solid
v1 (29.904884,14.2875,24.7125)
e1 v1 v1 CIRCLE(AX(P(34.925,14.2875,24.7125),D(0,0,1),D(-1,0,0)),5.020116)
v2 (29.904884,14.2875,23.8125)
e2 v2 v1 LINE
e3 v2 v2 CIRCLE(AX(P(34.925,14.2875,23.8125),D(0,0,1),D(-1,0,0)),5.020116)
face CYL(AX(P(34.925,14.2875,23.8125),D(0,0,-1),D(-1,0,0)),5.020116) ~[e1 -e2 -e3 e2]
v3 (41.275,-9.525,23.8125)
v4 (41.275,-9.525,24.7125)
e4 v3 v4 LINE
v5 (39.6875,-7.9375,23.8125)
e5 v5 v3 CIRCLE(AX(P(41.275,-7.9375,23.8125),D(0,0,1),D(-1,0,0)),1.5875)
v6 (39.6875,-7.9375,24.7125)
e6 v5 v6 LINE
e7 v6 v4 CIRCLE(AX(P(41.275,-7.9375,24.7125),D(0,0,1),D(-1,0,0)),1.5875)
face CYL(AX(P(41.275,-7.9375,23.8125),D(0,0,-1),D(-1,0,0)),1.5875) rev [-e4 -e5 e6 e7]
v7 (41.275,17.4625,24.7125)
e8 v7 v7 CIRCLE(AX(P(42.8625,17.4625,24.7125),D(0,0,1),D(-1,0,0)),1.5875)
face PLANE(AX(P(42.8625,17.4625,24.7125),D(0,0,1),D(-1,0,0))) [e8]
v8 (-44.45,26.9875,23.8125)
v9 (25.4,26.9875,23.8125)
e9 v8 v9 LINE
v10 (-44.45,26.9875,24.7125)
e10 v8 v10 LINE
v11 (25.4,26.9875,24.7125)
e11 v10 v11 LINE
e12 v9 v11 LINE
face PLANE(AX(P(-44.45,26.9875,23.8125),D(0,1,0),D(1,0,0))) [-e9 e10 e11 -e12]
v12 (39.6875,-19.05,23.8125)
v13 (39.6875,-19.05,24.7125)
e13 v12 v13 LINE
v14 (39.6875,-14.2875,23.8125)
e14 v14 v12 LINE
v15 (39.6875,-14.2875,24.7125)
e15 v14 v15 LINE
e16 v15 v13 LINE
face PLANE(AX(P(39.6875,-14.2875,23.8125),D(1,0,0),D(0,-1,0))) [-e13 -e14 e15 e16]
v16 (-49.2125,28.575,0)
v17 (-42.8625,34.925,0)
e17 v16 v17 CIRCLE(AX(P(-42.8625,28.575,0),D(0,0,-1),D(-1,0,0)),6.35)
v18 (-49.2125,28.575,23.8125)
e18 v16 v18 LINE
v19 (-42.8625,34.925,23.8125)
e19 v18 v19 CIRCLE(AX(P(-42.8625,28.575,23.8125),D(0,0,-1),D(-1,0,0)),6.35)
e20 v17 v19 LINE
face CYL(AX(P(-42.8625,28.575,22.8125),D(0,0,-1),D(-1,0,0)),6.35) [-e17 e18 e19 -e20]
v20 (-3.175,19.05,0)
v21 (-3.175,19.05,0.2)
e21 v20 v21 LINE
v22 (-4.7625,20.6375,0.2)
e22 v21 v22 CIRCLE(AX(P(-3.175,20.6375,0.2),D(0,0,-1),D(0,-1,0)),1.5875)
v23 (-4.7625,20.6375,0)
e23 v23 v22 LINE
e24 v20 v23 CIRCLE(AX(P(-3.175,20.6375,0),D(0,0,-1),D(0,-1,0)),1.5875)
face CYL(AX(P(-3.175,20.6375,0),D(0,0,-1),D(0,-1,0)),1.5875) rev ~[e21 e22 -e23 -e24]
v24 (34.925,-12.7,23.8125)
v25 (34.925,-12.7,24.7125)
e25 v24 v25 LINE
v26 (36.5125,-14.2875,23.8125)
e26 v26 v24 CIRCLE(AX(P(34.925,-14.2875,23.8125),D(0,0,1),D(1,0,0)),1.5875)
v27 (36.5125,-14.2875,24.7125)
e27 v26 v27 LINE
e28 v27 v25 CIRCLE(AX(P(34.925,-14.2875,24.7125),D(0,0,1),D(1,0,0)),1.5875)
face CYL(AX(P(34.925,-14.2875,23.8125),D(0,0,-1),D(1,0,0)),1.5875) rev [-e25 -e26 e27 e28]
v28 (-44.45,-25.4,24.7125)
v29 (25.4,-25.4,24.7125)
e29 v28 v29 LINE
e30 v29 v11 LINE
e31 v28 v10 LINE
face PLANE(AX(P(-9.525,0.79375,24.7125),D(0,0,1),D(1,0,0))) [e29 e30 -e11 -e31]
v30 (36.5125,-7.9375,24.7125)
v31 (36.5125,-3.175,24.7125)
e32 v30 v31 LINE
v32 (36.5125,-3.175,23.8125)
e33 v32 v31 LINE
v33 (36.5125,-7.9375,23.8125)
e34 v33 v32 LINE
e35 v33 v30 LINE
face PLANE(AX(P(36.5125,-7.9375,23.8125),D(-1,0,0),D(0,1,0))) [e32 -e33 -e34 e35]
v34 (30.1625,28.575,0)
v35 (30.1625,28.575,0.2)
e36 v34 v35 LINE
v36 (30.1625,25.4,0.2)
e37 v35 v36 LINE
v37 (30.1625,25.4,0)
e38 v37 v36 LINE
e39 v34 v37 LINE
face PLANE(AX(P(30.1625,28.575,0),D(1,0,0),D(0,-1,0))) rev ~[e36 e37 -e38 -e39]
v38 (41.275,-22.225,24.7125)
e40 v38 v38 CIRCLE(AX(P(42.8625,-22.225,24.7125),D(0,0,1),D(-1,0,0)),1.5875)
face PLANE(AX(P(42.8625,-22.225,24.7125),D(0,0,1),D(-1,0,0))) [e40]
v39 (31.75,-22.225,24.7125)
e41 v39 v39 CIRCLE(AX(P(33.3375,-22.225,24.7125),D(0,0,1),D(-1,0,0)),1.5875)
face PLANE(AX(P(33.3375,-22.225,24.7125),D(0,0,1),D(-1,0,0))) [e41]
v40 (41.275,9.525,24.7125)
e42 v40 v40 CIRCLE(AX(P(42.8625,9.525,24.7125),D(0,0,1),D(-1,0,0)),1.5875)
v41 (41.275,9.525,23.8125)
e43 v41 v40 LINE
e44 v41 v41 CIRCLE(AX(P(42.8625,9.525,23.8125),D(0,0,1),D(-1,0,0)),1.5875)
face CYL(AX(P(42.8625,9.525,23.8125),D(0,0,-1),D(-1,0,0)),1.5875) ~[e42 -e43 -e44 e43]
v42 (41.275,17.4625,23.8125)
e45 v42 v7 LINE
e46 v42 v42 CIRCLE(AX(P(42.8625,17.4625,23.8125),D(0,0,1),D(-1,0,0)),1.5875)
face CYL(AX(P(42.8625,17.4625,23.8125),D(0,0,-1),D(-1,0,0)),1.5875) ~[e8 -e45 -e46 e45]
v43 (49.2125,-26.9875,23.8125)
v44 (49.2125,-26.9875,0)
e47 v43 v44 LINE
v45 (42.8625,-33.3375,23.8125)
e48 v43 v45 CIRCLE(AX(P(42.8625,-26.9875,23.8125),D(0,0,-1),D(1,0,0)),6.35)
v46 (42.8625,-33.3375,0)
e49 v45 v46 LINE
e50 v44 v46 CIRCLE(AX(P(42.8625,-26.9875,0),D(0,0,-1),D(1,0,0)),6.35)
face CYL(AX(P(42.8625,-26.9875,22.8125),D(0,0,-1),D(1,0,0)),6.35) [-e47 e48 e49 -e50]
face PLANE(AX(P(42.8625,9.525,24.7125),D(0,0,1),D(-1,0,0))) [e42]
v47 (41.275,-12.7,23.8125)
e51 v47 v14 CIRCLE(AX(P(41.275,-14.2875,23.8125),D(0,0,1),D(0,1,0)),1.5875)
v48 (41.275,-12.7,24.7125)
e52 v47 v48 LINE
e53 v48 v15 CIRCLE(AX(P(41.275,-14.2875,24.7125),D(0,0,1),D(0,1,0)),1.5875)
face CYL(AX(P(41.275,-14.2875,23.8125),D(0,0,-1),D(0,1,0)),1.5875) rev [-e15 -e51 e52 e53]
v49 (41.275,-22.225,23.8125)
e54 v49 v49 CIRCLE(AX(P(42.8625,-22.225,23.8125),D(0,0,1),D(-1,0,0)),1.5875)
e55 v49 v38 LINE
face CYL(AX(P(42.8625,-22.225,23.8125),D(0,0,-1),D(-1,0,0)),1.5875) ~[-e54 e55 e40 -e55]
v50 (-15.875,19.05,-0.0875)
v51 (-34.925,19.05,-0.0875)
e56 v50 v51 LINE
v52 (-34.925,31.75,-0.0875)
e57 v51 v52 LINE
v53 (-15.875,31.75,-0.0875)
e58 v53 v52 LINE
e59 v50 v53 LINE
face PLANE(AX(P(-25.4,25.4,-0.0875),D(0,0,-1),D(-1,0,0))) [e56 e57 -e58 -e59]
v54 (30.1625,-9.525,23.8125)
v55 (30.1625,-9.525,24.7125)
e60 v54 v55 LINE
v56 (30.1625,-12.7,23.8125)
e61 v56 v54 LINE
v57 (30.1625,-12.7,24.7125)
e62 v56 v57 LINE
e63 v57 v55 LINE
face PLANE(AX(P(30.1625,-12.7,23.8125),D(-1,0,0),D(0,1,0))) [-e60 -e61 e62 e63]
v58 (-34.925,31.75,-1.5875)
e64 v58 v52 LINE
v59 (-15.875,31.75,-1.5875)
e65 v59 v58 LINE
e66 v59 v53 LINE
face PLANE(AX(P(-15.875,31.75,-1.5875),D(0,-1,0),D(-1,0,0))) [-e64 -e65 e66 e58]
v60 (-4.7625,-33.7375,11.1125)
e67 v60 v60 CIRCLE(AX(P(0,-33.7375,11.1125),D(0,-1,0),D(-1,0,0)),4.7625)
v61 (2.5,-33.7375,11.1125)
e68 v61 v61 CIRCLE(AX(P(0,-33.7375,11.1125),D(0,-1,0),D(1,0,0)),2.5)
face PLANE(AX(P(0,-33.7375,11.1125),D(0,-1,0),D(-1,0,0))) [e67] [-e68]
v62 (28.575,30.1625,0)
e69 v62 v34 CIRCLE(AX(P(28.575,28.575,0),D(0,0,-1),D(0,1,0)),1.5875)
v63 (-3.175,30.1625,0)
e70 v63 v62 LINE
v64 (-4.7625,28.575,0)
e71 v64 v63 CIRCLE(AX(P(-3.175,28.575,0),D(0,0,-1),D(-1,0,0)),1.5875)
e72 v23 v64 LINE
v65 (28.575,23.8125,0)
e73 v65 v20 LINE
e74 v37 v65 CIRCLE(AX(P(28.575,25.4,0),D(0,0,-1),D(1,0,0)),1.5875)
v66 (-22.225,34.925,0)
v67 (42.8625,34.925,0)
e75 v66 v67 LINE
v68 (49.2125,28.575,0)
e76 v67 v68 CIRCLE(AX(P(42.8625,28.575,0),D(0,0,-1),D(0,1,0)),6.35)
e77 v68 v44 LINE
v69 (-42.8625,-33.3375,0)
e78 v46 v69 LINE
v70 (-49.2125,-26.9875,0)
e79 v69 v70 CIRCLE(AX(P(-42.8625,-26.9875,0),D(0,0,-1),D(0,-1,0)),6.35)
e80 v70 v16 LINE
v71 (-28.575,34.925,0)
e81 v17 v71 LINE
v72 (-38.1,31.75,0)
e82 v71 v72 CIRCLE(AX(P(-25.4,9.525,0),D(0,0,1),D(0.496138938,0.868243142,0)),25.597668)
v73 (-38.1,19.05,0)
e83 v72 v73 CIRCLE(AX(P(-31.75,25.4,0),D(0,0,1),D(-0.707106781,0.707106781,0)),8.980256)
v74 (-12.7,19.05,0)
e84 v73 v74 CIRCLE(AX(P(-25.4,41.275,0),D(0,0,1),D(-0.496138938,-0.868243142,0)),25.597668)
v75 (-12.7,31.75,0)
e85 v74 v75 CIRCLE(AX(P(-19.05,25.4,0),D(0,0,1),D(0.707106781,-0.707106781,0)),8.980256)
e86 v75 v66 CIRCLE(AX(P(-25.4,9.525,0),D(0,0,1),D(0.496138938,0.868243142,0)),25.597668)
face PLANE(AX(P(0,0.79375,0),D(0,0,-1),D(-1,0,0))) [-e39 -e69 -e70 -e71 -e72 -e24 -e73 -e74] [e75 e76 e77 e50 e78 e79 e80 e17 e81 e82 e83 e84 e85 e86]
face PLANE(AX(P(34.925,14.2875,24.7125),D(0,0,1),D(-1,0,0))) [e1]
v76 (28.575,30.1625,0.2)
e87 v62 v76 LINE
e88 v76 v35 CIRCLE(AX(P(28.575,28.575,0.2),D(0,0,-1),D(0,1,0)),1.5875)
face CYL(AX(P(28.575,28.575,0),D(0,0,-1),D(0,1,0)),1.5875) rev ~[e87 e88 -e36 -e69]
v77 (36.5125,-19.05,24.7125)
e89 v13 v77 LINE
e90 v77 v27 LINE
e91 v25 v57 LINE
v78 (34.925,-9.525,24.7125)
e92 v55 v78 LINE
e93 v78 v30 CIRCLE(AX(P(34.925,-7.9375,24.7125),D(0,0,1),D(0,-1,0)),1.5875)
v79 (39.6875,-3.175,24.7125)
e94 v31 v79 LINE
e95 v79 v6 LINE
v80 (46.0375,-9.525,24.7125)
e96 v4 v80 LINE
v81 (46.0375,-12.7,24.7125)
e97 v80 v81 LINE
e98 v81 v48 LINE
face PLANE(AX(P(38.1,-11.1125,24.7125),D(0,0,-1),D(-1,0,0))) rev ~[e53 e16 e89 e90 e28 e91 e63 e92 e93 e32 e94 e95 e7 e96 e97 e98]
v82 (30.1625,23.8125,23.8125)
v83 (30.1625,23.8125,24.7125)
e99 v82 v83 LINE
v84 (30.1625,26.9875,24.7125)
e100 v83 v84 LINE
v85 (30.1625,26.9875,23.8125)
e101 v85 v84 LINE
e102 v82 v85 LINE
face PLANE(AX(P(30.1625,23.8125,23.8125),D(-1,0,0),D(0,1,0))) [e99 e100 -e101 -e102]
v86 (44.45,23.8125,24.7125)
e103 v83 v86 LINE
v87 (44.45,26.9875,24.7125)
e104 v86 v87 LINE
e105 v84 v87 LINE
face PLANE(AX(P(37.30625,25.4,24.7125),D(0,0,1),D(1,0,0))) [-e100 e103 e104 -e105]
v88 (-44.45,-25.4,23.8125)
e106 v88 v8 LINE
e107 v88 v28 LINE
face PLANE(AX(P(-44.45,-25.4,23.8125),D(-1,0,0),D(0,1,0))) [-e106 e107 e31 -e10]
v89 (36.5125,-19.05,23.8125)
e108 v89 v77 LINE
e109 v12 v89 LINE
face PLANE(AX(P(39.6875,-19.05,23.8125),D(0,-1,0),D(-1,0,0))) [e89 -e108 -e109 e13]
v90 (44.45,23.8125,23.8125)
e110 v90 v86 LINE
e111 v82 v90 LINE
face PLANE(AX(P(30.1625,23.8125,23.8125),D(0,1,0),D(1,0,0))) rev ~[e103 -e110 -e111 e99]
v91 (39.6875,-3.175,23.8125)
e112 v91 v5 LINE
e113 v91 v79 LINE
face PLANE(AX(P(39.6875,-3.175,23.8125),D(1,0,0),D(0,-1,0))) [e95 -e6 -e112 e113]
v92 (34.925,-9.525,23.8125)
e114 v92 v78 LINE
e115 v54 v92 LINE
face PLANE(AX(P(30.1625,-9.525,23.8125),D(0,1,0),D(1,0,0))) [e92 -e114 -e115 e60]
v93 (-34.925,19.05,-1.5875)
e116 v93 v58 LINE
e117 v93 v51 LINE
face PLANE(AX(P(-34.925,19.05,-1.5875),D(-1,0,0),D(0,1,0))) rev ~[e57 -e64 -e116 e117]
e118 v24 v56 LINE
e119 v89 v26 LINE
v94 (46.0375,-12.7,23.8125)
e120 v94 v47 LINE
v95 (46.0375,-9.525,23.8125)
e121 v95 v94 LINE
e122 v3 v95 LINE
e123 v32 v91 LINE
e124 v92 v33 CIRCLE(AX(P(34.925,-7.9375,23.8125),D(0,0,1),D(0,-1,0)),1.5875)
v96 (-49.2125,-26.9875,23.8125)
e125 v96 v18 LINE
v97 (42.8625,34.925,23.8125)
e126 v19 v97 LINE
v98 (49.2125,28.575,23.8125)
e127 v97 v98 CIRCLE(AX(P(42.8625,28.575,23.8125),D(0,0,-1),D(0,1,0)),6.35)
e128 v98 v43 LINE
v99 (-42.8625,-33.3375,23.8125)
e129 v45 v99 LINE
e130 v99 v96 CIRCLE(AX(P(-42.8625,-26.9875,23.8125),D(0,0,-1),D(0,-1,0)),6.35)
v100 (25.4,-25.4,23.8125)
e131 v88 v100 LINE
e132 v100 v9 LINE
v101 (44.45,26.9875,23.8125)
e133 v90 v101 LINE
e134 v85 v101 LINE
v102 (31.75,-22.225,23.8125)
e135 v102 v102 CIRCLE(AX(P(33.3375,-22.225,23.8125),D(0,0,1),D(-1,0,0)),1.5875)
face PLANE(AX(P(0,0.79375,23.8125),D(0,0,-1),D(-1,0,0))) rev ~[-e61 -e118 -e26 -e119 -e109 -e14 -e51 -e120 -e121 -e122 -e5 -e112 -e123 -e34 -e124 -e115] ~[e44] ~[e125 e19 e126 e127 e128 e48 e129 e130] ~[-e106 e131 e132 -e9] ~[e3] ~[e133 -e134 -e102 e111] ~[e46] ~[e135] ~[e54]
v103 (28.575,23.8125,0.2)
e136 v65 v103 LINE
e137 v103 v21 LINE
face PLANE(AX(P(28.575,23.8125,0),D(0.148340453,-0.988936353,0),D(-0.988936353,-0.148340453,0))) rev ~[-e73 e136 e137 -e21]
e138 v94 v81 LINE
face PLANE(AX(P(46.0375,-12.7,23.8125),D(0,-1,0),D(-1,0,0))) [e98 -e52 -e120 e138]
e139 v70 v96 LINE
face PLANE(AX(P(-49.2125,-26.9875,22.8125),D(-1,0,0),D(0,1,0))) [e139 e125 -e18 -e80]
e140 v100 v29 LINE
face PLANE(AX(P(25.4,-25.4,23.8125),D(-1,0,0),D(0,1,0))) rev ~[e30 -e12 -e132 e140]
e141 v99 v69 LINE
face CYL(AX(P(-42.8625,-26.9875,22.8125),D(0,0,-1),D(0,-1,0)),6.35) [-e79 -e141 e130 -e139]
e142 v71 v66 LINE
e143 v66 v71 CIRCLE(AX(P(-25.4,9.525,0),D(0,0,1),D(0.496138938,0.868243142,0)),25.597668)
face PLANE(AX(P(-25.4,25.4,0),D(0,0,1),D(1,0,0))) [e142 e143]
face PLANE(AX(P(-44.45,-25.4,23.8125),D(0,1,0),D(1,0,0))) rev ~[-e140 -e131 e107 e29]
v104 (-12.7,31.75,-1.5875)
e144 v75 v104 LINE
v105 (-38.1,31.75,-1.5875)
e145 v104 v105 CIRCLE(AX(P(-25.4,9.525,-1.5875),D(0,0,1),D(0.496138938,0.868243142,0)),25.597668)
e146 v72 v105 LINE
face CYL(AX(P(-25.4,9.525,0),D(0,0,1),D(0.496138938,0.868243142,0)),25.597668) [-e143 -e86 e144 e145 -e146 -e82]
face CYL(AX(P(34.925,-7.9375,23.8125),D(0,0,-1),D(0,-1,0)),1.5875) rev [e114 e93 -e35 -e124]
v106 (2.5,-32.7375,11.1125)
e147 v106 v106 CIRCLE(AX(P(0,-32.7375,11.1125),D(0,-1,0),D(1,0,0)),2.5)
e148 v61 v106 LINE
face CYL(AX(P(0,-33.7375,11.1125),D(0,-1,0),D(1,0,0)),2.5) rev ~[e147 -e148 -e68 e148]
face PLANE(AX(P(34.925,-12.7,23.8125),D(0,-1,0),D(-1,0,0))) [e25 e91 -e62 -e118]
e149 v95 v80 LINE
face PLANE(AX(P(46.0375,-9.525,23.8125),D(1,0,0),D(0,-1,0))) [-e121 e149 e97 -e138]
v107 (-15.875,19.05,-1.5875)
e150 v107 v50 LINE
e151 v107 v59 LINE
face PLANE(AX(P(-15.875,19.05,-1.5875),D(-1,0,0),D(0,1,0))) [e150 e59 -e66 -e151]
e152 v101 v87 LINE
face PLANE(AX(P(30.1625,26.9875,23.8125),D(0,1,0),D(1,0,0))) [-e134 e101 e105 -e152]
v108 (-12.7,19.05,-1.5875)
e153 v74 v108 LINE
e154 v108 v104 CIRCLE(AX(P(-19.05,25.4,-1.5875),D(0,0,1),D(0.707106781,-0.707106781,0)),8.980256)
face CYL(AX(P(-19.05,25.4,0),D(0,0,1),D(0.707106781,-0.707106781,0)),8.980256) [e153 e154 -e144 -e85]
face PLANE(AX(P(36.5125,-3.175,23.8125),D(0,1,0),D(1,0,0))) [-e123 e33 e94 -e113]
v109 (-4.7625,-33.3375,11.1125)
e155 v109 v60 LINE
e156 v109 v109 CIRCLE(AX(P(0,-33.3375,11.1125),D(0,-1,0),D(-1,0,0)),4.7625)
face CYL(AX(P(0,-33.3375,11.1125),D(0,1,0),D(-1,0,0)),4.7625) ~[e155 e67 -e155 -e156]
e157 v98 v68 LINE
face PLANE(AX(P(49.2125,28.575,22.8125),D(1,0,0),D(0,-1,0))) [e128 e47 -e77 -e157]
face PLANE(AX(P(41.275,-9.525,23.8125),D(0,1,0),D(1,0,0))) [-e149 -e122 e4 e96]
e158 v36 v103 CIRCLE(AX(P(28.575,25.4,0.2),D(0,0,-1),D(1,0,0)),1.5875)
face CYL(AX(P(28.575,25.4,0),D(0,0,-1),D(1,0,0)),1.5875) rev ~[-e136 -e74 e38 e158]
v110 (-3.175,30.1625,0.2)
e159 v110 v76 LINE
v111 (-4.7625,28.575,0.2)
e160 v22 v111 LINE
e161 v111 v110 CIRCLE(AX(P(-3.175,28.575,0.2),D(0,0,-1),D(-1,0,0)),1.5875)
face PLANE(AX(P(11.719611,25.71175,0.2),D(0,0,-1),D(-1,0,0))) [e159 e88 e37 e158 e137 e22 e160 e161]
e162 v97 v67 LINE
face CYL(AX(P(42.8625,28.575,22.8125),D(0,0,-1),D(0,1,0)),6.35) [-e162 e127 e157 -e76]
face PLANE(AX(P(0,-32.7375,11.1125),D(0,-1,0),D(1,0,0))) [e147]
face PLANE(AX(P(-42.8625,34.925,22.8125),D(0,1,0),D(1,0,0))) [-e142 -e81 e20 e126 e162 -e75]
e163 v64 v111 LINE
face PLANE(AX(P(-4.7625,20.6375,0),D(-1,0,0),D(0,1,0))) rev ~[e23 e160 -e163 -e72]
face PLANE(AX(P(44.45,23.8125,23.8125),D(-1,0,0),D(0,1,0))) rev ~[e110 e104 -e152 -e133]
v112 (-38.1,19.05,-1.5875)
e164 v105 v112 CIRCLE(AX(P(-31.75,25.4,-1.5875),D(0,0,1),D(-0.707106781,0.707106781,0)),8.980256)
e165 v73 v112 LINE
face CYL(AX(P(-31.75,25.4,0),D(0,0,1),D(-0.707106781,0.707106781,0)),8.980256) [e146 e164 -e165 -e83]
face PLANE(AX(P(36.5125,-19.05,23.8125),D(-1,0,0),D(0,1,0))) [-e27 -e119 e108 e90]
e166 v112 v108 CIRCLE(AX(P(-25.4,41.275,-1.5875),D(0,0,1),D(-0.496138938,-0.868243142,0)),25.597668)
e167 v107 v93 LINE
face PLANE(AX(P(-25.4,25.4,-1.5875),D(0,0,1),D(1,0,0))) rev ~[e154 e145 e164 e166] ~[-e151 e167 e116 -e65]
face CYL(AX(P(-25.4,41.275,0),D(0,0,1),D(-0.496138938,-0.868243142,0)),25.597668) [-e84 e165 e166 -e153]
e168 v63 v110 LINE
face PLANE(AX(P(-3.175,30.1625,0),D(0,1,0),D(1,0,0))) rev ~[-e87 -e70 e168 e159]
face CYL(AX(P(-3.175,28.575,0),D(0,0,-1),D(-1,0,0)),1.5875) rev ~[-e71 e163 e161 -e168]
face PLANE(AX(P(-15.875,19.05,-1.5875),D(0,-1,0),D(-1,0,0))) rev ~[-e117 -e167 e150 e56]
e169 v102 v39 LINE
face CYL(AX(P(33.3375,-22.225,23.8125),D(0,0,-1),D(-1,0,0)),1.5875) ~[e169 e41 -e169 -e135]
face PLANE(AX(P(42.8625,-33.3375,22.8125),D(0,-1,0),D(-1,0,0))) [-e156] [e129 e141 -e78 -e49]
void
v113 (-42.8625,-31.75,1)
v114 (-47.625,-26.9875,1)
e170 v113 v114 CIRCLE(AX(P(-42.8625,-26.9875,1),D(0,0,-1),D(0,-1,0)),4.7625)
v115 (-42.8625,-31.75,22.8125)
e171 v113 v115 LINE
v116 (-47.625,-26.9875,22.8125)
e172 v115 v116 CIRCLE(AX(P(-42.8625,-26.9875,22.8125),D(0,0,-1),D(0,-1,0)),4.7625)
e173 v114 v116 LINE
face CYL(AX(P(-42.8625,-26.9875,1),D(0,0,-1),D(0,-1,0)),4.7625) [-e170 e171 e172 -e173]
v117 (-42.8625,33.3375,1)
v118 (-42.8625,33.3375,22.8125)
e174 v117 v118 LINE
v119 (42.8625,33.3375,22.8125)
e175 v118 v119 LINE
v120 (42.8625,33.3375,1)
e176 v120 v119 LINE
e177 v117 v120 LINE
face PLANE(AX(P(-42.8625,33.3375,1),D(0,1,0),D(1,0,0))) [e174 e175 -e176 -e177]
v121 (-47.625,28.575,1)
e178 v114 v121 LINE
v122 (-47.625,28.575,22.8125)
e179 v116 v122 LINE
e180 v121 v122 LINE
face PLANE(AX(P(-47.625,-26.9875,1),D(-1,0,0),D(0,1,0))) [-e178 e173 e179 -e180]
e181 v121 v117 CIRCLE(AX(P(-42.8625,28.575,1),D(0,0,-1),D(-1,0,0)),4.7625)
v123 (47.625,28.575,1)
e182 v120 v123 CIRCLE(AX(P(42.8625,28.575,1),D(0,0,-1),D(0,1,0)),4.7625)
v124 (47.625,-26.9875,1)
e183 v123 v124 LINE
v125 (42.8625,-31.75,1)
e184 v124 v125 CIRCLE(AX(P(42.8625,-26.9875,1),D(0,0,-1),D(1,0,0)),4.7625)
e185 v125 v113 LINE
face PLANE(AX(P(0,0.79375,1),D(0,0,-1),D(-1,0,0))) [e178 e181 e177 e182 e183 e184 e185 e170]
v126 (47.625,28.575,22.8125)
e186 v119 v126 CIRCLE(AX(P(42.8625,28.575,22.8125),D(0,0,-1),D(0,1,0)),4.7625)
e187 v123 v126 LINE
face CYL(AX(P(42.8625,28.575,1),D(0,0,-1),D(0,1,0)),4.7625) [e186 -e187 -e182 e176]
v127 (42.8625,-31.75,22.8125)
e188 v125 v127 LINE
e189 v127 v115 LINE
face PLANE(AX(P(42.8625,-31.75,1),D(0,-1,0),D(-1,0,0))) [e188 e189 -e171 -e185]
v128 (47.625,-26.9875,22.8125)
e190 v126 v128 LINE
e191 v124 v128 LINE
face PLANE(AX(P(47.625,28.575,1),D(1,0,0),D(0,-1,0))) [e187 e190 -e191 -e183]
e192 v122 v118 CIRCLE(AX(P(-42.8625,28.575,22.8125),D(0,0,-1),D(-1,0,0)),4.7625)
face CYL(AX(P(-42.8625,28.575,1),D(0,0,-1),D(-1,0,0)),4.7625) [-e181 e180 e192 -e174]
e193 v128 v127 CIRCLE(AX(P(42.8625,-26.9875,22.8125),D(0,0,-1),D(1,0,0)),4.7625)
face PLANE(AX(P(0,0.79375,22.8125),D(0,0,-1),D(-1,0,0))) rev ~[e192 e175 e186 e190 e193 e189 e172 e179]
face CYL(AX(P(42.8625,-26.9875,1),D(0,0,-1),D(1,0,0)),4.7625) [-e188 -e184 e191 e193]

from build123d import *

# Parameters (mm, degrees)
EXTRUDE1_DEPTH     = 1
EXTRUDE9_DEPTH     = 21.8125
EXTRUDE10_DEPTH    = 1
SKETCH14_R         = 1.5875
SKETCH14_R_2       = 5.020115786
SKETCH14_W         = 69.85
SKETCH14_H         = 52.3875
SKETCH14_W_2       = 14.2875
SKETCH14_H_2       = 3.175
EXTRUDE12_DEPTH    = 0.9
CUT_EXTRUDE5_DEPTH = 0.2
EXTRUDE13_DEPTH    = 1.5875
SKETCH17_W         = 19.05
SKETCH17_H         = 12.7
CUT_EXTRUDE6_DEPTH = 1.5
SKETCH18_R         = 4.7625
EXTRUDE14_DEPTH    = 0.4
SKETCH19_R         = 2.5
CUT_EXTRUDE7_DEPTH = 1


with BuildPart() as part:
    # Sketch1 → Extrude1 (new body)
    with BuildSketch(Plane.XY):
        with BuildLine():
            Line((-42.8625, 34.925), (42.8625, 34.925))
            ThreePointArc((42.8625, 34.925), (47.352628061, 33.065128061), (49.2125, 28.575))
            Line((49.2125, 28.575), (49.2125, -26.9875))
            ThreePointArc((49.2125, -26.9875), (47.352628061, -31.477628061), (42.8625, -33.3375))
            Line((42.8625, -33.3375), (-42.8625, -33.3375))
            ThreePointArc((-42.8625, -33.3375), (-47.352628061, -31.477628061), (-49.2125, -26.9875))
            Line((-49.2125, -26.9875), (-49.2125, 28.575))
            ThreePointArc((-49.2125, 28.575), (-47.352628061, 33.065128061), (-42.8625, 34.925))
        make_face()
    extrude(amount=EXTRUDE1_DEPTH)

    # Sketch11 → Extrude9 (add)
    with BuildSketch(Plane.XY.offset(1)):
        with BuildLine():
            Line((-42.8625, 34.925), (42.8625, 34.925))
            ThreePointArc((42.8625, 34.925), (47.352628061, 33.065128061), (49.2125, 28.575))
            Line((49.2125, 28.575), (49.2125, -26.9875))
            ThreePointArc((49.2125, -26.9875), (47.352628061, -31.477628061), (42.8625, -33.3375))
            Line((42.8625, -33.3375), (-42.8625, -33.3375))
            ThreePointArc((-42.8625, -33.3375), (-47.352628061, -31.477628061), (-49.2125, -26.9875))
            Line((-49.2125, -26.9875), (-49.2125, 28.575))
            ThreePointArc((-49.2125, 28.575), (-47.352628061, 33.065128061), (-42.8625, 34.925))
        make_face()
        with BuildLine():
            Line((-42.8625, 33.3375), (42.8625, 33.3375))
            ThreePointArc((42.8625, 33.3375), (46.230096045, 31.942596045), (47.625, 28.575))
            Line((47.625, 28.575), (47.625, -26.9875))
            ThreePointArc((47.625, -26.9875), (46.230096045, -30.355096045), (42.8625, -31.75))
            Line((42.8625, -31.75), (-42.8625, -31.75))
            ThreePointArc((-42.8625, -31.75), (-46.230096045, -30.355096045), (-47.625, -26.9875))
            Line((-47.625, -26.9875), (-47.625, 28.575))
            ThreePointArc((-47.625, 28.575), (-46.230096045, 31.942596045), (-42.8625, 33.3375))
        make_face(mode=Mode.SUBTRACT)
    extrude(amount=EXTRUDE9_DEPTH)

    # Sketch13 → Extrude10 (add)
    with BuildSketch(Plane.XY.offset(22.8125)):
        with BuildLine():
            Line((-42.8625, 34.925), (42.8625, 34.925))
            ThreePointArc((42.8625, 34.925), (47.352628061, 33.065128061), (49.2125, 28.575))
            Line((49.2125, 28.575), (49.2125, -26.9875))
            ThreePointArc((49.2125, -26.9875), (47.352628061, -31.477628061), (42.8625, -33.3375))
            Line((42.8625, -33.3375), (-42.8625, -33.3375))
            ThreePointArc((-42.8625, -33.3375), (-47.352628061, -31.477628061), (-49.2125, -26.9875))
            Line((-49.2125, -26.9875), (-49.2125, 28.575))
            ThreePointArc((-49.2125, 28.575), (-47.352628061, 33.065128061), (-42.8625, 34.925))
        make_face()
    extrude(amount=EXTRUDE10_DEPTH)

    # Sketch14 → Extrude12 (add)
    with BuildSketch(Plane.XY.offset(23.8125)):
        with Locations(Location((42.8625, 17.4625, 0), (0, 0, 180))):
            Circle(SKETCH14_R)
        with Locations(Location((42.8625, 9.525, 0), (0, 0, 180))):
            Circle(SKETCH14_R)
        with Locations(Location((34.925, 14.2875, 0), (0, 0, 180))):
            Circle(SKETCH14_R_2)
        with Locations(Location((33.3375, -22.225, 0), (0, 0, 180))):
            Circle(SKETCH14_R)
        with Locations(Location((42.8625, -22.225, 0), (0, 0, 180))):
            Circle(SKETCH14_R)
        with BuildLine():
            Line((36.5125, -7.9375), (36.5125, -3.175))
            Line((36.5125, -3.175), (39.6875, -3.175))
            Line((39.6875, -3.175), (39.6875, -7.9375))
            ThreePointArc((39.6875, -7.9375), (40.152467985, -9.060032015), (41.275, -9.525))
            Line((41.275, -9.525), (46.0375, -9.525))
            Line((46.0375, -9.525), (46.0375, -12.7))
            Line((46.0375, -12.7), (41.275, -12.7))
            ThreePointArc((41.275, -12.7), (40.152467985, -13.164967985), (39.6875, -14.2875))
            Line((39.6875, -14.2875), (39.6875, -19.05))
            Line((39.6875, -19.05), (36.5125, -19.05))
            Line((36.5125, -19.05), (36.5125, -14.2875))
            ThreePointArc((36.5125, -14.2875), (36.047532015, -13.164967985), (34.925, -12.7))
            Line((34.925, -12.7), (30.1625, -12.7))
            Line((30.1625, -12.7), (30.1625, -9.525))
            Line((30.1625, -9.525), (34.925, -9.525))
            ThreePointArc((34.925, -9.525), (36.047532015, -9.060032015), (36.5125, -7.9375))
        make_face()
        with Locations((-9.525, 0.79375)):
            Rectangle(SKETCH14_W, SKETCH14_H)
        with Locations((37.30625, 25.4)):
            Rectangle(SKETCH14_W_2, SKETCH14_H_2)
    extrude(amount=EXTRUDE12_DEPTH)

    # Sketch15 → Cut-Extrude5 (cut)
    with BuildSketch(Plane(origin=(0, 0, 0), x_dir=(-1, 0, 0), z_dir=(0, 0, -1))):
        with BuildLine():
            Line((3.175, 30.1625), (-28.575, 30.1625))
            ThreePointArc((-28.575, 30.1625), (-29.697532015, 29.697532015), (-30.1625, 28.575))
            Line((-30.1625, 28.575), (-30.1625, 25.4))
            ThreePointArc((-30.1625, 25.4), (-29.697532015, 24.277467985), (-28.575, 23.8125))
            Line((-28.575, 23.8125), (3.175, 19.05))
            ThreePointArc((3.175, 19.05), (4.297532015, 19.514967985), (4.7625, 20.6375))
            Line((4.7625, 20.6375), (4.7625, 28.575))
            ThreePointArc((4.7625, 28.575), (4.297532015, 29.697532015), (3.175, 30.1625))
        make_face()
    extrude(amount=-CUT_EXTRUDE5_DEPTH, mode=Mode.SUBTRACT)

    # Sketch16 → Extrude13 (add)
    with BuildSketch(Plane(origin=(0, 0, 0), x_dir=(-1, 0, 0), z_dir=(0, 0, -1))):
        with BuildLine():
            ThreePointArc((12.7, 31.75), (25.4, 35.122668351), (38.1, 31.75))
            ThreePointArc((38.1, 31.75), (40.730256121, 25.4), (38.1, 19.05))
            ThreePointArc((38.1, 19.05), (25.4, 15.677331649), (12.7, 19.05))
            ThreePointArc((12.7, 19.05), (10.069743879, 25.4), (12.7, 31.75))
        make_face()
    extrude(amount=EXTRUDE13_DEPTH)

    # Sketch17 → Cut-Extrude6 (cut)
    with BuildSketch(Plane(origin=(0, 0, -1.5875), x_dir=(-1, 0, 0), z_dir=(0, 0, -1))):
        with Locations((25.4, 25.4)):
            Rectangle(SKETCH17_W, SKETCH17_H)
    extrude(amount=-CUT_EXTRUDE6_DEPTH, mode=Mode.SUBTRACT)

    # Sketch18 → Extrude14 (add)
    with BuildSketch(Plane.XZ.offset(33.3375)):
        with Locations(Location((0, 11.1125, 0), (0, 0, 180))):
            Circle(SKETCH18_R)
    extrude(amount=EXTRUDE14_DEPTH)

    # Sketch19 → Cut-Extrude7 (cut)
    with BuildSketch(Plane.XZ.offset(33.7375)):
        with Locations((0, 11.1125)):
            Circle(SKETCH19_R)
    extrude(amount=-CUT_EXTRUDE7_DEPTH, mode=Mode.SUBTRACT)


solid = part.part
